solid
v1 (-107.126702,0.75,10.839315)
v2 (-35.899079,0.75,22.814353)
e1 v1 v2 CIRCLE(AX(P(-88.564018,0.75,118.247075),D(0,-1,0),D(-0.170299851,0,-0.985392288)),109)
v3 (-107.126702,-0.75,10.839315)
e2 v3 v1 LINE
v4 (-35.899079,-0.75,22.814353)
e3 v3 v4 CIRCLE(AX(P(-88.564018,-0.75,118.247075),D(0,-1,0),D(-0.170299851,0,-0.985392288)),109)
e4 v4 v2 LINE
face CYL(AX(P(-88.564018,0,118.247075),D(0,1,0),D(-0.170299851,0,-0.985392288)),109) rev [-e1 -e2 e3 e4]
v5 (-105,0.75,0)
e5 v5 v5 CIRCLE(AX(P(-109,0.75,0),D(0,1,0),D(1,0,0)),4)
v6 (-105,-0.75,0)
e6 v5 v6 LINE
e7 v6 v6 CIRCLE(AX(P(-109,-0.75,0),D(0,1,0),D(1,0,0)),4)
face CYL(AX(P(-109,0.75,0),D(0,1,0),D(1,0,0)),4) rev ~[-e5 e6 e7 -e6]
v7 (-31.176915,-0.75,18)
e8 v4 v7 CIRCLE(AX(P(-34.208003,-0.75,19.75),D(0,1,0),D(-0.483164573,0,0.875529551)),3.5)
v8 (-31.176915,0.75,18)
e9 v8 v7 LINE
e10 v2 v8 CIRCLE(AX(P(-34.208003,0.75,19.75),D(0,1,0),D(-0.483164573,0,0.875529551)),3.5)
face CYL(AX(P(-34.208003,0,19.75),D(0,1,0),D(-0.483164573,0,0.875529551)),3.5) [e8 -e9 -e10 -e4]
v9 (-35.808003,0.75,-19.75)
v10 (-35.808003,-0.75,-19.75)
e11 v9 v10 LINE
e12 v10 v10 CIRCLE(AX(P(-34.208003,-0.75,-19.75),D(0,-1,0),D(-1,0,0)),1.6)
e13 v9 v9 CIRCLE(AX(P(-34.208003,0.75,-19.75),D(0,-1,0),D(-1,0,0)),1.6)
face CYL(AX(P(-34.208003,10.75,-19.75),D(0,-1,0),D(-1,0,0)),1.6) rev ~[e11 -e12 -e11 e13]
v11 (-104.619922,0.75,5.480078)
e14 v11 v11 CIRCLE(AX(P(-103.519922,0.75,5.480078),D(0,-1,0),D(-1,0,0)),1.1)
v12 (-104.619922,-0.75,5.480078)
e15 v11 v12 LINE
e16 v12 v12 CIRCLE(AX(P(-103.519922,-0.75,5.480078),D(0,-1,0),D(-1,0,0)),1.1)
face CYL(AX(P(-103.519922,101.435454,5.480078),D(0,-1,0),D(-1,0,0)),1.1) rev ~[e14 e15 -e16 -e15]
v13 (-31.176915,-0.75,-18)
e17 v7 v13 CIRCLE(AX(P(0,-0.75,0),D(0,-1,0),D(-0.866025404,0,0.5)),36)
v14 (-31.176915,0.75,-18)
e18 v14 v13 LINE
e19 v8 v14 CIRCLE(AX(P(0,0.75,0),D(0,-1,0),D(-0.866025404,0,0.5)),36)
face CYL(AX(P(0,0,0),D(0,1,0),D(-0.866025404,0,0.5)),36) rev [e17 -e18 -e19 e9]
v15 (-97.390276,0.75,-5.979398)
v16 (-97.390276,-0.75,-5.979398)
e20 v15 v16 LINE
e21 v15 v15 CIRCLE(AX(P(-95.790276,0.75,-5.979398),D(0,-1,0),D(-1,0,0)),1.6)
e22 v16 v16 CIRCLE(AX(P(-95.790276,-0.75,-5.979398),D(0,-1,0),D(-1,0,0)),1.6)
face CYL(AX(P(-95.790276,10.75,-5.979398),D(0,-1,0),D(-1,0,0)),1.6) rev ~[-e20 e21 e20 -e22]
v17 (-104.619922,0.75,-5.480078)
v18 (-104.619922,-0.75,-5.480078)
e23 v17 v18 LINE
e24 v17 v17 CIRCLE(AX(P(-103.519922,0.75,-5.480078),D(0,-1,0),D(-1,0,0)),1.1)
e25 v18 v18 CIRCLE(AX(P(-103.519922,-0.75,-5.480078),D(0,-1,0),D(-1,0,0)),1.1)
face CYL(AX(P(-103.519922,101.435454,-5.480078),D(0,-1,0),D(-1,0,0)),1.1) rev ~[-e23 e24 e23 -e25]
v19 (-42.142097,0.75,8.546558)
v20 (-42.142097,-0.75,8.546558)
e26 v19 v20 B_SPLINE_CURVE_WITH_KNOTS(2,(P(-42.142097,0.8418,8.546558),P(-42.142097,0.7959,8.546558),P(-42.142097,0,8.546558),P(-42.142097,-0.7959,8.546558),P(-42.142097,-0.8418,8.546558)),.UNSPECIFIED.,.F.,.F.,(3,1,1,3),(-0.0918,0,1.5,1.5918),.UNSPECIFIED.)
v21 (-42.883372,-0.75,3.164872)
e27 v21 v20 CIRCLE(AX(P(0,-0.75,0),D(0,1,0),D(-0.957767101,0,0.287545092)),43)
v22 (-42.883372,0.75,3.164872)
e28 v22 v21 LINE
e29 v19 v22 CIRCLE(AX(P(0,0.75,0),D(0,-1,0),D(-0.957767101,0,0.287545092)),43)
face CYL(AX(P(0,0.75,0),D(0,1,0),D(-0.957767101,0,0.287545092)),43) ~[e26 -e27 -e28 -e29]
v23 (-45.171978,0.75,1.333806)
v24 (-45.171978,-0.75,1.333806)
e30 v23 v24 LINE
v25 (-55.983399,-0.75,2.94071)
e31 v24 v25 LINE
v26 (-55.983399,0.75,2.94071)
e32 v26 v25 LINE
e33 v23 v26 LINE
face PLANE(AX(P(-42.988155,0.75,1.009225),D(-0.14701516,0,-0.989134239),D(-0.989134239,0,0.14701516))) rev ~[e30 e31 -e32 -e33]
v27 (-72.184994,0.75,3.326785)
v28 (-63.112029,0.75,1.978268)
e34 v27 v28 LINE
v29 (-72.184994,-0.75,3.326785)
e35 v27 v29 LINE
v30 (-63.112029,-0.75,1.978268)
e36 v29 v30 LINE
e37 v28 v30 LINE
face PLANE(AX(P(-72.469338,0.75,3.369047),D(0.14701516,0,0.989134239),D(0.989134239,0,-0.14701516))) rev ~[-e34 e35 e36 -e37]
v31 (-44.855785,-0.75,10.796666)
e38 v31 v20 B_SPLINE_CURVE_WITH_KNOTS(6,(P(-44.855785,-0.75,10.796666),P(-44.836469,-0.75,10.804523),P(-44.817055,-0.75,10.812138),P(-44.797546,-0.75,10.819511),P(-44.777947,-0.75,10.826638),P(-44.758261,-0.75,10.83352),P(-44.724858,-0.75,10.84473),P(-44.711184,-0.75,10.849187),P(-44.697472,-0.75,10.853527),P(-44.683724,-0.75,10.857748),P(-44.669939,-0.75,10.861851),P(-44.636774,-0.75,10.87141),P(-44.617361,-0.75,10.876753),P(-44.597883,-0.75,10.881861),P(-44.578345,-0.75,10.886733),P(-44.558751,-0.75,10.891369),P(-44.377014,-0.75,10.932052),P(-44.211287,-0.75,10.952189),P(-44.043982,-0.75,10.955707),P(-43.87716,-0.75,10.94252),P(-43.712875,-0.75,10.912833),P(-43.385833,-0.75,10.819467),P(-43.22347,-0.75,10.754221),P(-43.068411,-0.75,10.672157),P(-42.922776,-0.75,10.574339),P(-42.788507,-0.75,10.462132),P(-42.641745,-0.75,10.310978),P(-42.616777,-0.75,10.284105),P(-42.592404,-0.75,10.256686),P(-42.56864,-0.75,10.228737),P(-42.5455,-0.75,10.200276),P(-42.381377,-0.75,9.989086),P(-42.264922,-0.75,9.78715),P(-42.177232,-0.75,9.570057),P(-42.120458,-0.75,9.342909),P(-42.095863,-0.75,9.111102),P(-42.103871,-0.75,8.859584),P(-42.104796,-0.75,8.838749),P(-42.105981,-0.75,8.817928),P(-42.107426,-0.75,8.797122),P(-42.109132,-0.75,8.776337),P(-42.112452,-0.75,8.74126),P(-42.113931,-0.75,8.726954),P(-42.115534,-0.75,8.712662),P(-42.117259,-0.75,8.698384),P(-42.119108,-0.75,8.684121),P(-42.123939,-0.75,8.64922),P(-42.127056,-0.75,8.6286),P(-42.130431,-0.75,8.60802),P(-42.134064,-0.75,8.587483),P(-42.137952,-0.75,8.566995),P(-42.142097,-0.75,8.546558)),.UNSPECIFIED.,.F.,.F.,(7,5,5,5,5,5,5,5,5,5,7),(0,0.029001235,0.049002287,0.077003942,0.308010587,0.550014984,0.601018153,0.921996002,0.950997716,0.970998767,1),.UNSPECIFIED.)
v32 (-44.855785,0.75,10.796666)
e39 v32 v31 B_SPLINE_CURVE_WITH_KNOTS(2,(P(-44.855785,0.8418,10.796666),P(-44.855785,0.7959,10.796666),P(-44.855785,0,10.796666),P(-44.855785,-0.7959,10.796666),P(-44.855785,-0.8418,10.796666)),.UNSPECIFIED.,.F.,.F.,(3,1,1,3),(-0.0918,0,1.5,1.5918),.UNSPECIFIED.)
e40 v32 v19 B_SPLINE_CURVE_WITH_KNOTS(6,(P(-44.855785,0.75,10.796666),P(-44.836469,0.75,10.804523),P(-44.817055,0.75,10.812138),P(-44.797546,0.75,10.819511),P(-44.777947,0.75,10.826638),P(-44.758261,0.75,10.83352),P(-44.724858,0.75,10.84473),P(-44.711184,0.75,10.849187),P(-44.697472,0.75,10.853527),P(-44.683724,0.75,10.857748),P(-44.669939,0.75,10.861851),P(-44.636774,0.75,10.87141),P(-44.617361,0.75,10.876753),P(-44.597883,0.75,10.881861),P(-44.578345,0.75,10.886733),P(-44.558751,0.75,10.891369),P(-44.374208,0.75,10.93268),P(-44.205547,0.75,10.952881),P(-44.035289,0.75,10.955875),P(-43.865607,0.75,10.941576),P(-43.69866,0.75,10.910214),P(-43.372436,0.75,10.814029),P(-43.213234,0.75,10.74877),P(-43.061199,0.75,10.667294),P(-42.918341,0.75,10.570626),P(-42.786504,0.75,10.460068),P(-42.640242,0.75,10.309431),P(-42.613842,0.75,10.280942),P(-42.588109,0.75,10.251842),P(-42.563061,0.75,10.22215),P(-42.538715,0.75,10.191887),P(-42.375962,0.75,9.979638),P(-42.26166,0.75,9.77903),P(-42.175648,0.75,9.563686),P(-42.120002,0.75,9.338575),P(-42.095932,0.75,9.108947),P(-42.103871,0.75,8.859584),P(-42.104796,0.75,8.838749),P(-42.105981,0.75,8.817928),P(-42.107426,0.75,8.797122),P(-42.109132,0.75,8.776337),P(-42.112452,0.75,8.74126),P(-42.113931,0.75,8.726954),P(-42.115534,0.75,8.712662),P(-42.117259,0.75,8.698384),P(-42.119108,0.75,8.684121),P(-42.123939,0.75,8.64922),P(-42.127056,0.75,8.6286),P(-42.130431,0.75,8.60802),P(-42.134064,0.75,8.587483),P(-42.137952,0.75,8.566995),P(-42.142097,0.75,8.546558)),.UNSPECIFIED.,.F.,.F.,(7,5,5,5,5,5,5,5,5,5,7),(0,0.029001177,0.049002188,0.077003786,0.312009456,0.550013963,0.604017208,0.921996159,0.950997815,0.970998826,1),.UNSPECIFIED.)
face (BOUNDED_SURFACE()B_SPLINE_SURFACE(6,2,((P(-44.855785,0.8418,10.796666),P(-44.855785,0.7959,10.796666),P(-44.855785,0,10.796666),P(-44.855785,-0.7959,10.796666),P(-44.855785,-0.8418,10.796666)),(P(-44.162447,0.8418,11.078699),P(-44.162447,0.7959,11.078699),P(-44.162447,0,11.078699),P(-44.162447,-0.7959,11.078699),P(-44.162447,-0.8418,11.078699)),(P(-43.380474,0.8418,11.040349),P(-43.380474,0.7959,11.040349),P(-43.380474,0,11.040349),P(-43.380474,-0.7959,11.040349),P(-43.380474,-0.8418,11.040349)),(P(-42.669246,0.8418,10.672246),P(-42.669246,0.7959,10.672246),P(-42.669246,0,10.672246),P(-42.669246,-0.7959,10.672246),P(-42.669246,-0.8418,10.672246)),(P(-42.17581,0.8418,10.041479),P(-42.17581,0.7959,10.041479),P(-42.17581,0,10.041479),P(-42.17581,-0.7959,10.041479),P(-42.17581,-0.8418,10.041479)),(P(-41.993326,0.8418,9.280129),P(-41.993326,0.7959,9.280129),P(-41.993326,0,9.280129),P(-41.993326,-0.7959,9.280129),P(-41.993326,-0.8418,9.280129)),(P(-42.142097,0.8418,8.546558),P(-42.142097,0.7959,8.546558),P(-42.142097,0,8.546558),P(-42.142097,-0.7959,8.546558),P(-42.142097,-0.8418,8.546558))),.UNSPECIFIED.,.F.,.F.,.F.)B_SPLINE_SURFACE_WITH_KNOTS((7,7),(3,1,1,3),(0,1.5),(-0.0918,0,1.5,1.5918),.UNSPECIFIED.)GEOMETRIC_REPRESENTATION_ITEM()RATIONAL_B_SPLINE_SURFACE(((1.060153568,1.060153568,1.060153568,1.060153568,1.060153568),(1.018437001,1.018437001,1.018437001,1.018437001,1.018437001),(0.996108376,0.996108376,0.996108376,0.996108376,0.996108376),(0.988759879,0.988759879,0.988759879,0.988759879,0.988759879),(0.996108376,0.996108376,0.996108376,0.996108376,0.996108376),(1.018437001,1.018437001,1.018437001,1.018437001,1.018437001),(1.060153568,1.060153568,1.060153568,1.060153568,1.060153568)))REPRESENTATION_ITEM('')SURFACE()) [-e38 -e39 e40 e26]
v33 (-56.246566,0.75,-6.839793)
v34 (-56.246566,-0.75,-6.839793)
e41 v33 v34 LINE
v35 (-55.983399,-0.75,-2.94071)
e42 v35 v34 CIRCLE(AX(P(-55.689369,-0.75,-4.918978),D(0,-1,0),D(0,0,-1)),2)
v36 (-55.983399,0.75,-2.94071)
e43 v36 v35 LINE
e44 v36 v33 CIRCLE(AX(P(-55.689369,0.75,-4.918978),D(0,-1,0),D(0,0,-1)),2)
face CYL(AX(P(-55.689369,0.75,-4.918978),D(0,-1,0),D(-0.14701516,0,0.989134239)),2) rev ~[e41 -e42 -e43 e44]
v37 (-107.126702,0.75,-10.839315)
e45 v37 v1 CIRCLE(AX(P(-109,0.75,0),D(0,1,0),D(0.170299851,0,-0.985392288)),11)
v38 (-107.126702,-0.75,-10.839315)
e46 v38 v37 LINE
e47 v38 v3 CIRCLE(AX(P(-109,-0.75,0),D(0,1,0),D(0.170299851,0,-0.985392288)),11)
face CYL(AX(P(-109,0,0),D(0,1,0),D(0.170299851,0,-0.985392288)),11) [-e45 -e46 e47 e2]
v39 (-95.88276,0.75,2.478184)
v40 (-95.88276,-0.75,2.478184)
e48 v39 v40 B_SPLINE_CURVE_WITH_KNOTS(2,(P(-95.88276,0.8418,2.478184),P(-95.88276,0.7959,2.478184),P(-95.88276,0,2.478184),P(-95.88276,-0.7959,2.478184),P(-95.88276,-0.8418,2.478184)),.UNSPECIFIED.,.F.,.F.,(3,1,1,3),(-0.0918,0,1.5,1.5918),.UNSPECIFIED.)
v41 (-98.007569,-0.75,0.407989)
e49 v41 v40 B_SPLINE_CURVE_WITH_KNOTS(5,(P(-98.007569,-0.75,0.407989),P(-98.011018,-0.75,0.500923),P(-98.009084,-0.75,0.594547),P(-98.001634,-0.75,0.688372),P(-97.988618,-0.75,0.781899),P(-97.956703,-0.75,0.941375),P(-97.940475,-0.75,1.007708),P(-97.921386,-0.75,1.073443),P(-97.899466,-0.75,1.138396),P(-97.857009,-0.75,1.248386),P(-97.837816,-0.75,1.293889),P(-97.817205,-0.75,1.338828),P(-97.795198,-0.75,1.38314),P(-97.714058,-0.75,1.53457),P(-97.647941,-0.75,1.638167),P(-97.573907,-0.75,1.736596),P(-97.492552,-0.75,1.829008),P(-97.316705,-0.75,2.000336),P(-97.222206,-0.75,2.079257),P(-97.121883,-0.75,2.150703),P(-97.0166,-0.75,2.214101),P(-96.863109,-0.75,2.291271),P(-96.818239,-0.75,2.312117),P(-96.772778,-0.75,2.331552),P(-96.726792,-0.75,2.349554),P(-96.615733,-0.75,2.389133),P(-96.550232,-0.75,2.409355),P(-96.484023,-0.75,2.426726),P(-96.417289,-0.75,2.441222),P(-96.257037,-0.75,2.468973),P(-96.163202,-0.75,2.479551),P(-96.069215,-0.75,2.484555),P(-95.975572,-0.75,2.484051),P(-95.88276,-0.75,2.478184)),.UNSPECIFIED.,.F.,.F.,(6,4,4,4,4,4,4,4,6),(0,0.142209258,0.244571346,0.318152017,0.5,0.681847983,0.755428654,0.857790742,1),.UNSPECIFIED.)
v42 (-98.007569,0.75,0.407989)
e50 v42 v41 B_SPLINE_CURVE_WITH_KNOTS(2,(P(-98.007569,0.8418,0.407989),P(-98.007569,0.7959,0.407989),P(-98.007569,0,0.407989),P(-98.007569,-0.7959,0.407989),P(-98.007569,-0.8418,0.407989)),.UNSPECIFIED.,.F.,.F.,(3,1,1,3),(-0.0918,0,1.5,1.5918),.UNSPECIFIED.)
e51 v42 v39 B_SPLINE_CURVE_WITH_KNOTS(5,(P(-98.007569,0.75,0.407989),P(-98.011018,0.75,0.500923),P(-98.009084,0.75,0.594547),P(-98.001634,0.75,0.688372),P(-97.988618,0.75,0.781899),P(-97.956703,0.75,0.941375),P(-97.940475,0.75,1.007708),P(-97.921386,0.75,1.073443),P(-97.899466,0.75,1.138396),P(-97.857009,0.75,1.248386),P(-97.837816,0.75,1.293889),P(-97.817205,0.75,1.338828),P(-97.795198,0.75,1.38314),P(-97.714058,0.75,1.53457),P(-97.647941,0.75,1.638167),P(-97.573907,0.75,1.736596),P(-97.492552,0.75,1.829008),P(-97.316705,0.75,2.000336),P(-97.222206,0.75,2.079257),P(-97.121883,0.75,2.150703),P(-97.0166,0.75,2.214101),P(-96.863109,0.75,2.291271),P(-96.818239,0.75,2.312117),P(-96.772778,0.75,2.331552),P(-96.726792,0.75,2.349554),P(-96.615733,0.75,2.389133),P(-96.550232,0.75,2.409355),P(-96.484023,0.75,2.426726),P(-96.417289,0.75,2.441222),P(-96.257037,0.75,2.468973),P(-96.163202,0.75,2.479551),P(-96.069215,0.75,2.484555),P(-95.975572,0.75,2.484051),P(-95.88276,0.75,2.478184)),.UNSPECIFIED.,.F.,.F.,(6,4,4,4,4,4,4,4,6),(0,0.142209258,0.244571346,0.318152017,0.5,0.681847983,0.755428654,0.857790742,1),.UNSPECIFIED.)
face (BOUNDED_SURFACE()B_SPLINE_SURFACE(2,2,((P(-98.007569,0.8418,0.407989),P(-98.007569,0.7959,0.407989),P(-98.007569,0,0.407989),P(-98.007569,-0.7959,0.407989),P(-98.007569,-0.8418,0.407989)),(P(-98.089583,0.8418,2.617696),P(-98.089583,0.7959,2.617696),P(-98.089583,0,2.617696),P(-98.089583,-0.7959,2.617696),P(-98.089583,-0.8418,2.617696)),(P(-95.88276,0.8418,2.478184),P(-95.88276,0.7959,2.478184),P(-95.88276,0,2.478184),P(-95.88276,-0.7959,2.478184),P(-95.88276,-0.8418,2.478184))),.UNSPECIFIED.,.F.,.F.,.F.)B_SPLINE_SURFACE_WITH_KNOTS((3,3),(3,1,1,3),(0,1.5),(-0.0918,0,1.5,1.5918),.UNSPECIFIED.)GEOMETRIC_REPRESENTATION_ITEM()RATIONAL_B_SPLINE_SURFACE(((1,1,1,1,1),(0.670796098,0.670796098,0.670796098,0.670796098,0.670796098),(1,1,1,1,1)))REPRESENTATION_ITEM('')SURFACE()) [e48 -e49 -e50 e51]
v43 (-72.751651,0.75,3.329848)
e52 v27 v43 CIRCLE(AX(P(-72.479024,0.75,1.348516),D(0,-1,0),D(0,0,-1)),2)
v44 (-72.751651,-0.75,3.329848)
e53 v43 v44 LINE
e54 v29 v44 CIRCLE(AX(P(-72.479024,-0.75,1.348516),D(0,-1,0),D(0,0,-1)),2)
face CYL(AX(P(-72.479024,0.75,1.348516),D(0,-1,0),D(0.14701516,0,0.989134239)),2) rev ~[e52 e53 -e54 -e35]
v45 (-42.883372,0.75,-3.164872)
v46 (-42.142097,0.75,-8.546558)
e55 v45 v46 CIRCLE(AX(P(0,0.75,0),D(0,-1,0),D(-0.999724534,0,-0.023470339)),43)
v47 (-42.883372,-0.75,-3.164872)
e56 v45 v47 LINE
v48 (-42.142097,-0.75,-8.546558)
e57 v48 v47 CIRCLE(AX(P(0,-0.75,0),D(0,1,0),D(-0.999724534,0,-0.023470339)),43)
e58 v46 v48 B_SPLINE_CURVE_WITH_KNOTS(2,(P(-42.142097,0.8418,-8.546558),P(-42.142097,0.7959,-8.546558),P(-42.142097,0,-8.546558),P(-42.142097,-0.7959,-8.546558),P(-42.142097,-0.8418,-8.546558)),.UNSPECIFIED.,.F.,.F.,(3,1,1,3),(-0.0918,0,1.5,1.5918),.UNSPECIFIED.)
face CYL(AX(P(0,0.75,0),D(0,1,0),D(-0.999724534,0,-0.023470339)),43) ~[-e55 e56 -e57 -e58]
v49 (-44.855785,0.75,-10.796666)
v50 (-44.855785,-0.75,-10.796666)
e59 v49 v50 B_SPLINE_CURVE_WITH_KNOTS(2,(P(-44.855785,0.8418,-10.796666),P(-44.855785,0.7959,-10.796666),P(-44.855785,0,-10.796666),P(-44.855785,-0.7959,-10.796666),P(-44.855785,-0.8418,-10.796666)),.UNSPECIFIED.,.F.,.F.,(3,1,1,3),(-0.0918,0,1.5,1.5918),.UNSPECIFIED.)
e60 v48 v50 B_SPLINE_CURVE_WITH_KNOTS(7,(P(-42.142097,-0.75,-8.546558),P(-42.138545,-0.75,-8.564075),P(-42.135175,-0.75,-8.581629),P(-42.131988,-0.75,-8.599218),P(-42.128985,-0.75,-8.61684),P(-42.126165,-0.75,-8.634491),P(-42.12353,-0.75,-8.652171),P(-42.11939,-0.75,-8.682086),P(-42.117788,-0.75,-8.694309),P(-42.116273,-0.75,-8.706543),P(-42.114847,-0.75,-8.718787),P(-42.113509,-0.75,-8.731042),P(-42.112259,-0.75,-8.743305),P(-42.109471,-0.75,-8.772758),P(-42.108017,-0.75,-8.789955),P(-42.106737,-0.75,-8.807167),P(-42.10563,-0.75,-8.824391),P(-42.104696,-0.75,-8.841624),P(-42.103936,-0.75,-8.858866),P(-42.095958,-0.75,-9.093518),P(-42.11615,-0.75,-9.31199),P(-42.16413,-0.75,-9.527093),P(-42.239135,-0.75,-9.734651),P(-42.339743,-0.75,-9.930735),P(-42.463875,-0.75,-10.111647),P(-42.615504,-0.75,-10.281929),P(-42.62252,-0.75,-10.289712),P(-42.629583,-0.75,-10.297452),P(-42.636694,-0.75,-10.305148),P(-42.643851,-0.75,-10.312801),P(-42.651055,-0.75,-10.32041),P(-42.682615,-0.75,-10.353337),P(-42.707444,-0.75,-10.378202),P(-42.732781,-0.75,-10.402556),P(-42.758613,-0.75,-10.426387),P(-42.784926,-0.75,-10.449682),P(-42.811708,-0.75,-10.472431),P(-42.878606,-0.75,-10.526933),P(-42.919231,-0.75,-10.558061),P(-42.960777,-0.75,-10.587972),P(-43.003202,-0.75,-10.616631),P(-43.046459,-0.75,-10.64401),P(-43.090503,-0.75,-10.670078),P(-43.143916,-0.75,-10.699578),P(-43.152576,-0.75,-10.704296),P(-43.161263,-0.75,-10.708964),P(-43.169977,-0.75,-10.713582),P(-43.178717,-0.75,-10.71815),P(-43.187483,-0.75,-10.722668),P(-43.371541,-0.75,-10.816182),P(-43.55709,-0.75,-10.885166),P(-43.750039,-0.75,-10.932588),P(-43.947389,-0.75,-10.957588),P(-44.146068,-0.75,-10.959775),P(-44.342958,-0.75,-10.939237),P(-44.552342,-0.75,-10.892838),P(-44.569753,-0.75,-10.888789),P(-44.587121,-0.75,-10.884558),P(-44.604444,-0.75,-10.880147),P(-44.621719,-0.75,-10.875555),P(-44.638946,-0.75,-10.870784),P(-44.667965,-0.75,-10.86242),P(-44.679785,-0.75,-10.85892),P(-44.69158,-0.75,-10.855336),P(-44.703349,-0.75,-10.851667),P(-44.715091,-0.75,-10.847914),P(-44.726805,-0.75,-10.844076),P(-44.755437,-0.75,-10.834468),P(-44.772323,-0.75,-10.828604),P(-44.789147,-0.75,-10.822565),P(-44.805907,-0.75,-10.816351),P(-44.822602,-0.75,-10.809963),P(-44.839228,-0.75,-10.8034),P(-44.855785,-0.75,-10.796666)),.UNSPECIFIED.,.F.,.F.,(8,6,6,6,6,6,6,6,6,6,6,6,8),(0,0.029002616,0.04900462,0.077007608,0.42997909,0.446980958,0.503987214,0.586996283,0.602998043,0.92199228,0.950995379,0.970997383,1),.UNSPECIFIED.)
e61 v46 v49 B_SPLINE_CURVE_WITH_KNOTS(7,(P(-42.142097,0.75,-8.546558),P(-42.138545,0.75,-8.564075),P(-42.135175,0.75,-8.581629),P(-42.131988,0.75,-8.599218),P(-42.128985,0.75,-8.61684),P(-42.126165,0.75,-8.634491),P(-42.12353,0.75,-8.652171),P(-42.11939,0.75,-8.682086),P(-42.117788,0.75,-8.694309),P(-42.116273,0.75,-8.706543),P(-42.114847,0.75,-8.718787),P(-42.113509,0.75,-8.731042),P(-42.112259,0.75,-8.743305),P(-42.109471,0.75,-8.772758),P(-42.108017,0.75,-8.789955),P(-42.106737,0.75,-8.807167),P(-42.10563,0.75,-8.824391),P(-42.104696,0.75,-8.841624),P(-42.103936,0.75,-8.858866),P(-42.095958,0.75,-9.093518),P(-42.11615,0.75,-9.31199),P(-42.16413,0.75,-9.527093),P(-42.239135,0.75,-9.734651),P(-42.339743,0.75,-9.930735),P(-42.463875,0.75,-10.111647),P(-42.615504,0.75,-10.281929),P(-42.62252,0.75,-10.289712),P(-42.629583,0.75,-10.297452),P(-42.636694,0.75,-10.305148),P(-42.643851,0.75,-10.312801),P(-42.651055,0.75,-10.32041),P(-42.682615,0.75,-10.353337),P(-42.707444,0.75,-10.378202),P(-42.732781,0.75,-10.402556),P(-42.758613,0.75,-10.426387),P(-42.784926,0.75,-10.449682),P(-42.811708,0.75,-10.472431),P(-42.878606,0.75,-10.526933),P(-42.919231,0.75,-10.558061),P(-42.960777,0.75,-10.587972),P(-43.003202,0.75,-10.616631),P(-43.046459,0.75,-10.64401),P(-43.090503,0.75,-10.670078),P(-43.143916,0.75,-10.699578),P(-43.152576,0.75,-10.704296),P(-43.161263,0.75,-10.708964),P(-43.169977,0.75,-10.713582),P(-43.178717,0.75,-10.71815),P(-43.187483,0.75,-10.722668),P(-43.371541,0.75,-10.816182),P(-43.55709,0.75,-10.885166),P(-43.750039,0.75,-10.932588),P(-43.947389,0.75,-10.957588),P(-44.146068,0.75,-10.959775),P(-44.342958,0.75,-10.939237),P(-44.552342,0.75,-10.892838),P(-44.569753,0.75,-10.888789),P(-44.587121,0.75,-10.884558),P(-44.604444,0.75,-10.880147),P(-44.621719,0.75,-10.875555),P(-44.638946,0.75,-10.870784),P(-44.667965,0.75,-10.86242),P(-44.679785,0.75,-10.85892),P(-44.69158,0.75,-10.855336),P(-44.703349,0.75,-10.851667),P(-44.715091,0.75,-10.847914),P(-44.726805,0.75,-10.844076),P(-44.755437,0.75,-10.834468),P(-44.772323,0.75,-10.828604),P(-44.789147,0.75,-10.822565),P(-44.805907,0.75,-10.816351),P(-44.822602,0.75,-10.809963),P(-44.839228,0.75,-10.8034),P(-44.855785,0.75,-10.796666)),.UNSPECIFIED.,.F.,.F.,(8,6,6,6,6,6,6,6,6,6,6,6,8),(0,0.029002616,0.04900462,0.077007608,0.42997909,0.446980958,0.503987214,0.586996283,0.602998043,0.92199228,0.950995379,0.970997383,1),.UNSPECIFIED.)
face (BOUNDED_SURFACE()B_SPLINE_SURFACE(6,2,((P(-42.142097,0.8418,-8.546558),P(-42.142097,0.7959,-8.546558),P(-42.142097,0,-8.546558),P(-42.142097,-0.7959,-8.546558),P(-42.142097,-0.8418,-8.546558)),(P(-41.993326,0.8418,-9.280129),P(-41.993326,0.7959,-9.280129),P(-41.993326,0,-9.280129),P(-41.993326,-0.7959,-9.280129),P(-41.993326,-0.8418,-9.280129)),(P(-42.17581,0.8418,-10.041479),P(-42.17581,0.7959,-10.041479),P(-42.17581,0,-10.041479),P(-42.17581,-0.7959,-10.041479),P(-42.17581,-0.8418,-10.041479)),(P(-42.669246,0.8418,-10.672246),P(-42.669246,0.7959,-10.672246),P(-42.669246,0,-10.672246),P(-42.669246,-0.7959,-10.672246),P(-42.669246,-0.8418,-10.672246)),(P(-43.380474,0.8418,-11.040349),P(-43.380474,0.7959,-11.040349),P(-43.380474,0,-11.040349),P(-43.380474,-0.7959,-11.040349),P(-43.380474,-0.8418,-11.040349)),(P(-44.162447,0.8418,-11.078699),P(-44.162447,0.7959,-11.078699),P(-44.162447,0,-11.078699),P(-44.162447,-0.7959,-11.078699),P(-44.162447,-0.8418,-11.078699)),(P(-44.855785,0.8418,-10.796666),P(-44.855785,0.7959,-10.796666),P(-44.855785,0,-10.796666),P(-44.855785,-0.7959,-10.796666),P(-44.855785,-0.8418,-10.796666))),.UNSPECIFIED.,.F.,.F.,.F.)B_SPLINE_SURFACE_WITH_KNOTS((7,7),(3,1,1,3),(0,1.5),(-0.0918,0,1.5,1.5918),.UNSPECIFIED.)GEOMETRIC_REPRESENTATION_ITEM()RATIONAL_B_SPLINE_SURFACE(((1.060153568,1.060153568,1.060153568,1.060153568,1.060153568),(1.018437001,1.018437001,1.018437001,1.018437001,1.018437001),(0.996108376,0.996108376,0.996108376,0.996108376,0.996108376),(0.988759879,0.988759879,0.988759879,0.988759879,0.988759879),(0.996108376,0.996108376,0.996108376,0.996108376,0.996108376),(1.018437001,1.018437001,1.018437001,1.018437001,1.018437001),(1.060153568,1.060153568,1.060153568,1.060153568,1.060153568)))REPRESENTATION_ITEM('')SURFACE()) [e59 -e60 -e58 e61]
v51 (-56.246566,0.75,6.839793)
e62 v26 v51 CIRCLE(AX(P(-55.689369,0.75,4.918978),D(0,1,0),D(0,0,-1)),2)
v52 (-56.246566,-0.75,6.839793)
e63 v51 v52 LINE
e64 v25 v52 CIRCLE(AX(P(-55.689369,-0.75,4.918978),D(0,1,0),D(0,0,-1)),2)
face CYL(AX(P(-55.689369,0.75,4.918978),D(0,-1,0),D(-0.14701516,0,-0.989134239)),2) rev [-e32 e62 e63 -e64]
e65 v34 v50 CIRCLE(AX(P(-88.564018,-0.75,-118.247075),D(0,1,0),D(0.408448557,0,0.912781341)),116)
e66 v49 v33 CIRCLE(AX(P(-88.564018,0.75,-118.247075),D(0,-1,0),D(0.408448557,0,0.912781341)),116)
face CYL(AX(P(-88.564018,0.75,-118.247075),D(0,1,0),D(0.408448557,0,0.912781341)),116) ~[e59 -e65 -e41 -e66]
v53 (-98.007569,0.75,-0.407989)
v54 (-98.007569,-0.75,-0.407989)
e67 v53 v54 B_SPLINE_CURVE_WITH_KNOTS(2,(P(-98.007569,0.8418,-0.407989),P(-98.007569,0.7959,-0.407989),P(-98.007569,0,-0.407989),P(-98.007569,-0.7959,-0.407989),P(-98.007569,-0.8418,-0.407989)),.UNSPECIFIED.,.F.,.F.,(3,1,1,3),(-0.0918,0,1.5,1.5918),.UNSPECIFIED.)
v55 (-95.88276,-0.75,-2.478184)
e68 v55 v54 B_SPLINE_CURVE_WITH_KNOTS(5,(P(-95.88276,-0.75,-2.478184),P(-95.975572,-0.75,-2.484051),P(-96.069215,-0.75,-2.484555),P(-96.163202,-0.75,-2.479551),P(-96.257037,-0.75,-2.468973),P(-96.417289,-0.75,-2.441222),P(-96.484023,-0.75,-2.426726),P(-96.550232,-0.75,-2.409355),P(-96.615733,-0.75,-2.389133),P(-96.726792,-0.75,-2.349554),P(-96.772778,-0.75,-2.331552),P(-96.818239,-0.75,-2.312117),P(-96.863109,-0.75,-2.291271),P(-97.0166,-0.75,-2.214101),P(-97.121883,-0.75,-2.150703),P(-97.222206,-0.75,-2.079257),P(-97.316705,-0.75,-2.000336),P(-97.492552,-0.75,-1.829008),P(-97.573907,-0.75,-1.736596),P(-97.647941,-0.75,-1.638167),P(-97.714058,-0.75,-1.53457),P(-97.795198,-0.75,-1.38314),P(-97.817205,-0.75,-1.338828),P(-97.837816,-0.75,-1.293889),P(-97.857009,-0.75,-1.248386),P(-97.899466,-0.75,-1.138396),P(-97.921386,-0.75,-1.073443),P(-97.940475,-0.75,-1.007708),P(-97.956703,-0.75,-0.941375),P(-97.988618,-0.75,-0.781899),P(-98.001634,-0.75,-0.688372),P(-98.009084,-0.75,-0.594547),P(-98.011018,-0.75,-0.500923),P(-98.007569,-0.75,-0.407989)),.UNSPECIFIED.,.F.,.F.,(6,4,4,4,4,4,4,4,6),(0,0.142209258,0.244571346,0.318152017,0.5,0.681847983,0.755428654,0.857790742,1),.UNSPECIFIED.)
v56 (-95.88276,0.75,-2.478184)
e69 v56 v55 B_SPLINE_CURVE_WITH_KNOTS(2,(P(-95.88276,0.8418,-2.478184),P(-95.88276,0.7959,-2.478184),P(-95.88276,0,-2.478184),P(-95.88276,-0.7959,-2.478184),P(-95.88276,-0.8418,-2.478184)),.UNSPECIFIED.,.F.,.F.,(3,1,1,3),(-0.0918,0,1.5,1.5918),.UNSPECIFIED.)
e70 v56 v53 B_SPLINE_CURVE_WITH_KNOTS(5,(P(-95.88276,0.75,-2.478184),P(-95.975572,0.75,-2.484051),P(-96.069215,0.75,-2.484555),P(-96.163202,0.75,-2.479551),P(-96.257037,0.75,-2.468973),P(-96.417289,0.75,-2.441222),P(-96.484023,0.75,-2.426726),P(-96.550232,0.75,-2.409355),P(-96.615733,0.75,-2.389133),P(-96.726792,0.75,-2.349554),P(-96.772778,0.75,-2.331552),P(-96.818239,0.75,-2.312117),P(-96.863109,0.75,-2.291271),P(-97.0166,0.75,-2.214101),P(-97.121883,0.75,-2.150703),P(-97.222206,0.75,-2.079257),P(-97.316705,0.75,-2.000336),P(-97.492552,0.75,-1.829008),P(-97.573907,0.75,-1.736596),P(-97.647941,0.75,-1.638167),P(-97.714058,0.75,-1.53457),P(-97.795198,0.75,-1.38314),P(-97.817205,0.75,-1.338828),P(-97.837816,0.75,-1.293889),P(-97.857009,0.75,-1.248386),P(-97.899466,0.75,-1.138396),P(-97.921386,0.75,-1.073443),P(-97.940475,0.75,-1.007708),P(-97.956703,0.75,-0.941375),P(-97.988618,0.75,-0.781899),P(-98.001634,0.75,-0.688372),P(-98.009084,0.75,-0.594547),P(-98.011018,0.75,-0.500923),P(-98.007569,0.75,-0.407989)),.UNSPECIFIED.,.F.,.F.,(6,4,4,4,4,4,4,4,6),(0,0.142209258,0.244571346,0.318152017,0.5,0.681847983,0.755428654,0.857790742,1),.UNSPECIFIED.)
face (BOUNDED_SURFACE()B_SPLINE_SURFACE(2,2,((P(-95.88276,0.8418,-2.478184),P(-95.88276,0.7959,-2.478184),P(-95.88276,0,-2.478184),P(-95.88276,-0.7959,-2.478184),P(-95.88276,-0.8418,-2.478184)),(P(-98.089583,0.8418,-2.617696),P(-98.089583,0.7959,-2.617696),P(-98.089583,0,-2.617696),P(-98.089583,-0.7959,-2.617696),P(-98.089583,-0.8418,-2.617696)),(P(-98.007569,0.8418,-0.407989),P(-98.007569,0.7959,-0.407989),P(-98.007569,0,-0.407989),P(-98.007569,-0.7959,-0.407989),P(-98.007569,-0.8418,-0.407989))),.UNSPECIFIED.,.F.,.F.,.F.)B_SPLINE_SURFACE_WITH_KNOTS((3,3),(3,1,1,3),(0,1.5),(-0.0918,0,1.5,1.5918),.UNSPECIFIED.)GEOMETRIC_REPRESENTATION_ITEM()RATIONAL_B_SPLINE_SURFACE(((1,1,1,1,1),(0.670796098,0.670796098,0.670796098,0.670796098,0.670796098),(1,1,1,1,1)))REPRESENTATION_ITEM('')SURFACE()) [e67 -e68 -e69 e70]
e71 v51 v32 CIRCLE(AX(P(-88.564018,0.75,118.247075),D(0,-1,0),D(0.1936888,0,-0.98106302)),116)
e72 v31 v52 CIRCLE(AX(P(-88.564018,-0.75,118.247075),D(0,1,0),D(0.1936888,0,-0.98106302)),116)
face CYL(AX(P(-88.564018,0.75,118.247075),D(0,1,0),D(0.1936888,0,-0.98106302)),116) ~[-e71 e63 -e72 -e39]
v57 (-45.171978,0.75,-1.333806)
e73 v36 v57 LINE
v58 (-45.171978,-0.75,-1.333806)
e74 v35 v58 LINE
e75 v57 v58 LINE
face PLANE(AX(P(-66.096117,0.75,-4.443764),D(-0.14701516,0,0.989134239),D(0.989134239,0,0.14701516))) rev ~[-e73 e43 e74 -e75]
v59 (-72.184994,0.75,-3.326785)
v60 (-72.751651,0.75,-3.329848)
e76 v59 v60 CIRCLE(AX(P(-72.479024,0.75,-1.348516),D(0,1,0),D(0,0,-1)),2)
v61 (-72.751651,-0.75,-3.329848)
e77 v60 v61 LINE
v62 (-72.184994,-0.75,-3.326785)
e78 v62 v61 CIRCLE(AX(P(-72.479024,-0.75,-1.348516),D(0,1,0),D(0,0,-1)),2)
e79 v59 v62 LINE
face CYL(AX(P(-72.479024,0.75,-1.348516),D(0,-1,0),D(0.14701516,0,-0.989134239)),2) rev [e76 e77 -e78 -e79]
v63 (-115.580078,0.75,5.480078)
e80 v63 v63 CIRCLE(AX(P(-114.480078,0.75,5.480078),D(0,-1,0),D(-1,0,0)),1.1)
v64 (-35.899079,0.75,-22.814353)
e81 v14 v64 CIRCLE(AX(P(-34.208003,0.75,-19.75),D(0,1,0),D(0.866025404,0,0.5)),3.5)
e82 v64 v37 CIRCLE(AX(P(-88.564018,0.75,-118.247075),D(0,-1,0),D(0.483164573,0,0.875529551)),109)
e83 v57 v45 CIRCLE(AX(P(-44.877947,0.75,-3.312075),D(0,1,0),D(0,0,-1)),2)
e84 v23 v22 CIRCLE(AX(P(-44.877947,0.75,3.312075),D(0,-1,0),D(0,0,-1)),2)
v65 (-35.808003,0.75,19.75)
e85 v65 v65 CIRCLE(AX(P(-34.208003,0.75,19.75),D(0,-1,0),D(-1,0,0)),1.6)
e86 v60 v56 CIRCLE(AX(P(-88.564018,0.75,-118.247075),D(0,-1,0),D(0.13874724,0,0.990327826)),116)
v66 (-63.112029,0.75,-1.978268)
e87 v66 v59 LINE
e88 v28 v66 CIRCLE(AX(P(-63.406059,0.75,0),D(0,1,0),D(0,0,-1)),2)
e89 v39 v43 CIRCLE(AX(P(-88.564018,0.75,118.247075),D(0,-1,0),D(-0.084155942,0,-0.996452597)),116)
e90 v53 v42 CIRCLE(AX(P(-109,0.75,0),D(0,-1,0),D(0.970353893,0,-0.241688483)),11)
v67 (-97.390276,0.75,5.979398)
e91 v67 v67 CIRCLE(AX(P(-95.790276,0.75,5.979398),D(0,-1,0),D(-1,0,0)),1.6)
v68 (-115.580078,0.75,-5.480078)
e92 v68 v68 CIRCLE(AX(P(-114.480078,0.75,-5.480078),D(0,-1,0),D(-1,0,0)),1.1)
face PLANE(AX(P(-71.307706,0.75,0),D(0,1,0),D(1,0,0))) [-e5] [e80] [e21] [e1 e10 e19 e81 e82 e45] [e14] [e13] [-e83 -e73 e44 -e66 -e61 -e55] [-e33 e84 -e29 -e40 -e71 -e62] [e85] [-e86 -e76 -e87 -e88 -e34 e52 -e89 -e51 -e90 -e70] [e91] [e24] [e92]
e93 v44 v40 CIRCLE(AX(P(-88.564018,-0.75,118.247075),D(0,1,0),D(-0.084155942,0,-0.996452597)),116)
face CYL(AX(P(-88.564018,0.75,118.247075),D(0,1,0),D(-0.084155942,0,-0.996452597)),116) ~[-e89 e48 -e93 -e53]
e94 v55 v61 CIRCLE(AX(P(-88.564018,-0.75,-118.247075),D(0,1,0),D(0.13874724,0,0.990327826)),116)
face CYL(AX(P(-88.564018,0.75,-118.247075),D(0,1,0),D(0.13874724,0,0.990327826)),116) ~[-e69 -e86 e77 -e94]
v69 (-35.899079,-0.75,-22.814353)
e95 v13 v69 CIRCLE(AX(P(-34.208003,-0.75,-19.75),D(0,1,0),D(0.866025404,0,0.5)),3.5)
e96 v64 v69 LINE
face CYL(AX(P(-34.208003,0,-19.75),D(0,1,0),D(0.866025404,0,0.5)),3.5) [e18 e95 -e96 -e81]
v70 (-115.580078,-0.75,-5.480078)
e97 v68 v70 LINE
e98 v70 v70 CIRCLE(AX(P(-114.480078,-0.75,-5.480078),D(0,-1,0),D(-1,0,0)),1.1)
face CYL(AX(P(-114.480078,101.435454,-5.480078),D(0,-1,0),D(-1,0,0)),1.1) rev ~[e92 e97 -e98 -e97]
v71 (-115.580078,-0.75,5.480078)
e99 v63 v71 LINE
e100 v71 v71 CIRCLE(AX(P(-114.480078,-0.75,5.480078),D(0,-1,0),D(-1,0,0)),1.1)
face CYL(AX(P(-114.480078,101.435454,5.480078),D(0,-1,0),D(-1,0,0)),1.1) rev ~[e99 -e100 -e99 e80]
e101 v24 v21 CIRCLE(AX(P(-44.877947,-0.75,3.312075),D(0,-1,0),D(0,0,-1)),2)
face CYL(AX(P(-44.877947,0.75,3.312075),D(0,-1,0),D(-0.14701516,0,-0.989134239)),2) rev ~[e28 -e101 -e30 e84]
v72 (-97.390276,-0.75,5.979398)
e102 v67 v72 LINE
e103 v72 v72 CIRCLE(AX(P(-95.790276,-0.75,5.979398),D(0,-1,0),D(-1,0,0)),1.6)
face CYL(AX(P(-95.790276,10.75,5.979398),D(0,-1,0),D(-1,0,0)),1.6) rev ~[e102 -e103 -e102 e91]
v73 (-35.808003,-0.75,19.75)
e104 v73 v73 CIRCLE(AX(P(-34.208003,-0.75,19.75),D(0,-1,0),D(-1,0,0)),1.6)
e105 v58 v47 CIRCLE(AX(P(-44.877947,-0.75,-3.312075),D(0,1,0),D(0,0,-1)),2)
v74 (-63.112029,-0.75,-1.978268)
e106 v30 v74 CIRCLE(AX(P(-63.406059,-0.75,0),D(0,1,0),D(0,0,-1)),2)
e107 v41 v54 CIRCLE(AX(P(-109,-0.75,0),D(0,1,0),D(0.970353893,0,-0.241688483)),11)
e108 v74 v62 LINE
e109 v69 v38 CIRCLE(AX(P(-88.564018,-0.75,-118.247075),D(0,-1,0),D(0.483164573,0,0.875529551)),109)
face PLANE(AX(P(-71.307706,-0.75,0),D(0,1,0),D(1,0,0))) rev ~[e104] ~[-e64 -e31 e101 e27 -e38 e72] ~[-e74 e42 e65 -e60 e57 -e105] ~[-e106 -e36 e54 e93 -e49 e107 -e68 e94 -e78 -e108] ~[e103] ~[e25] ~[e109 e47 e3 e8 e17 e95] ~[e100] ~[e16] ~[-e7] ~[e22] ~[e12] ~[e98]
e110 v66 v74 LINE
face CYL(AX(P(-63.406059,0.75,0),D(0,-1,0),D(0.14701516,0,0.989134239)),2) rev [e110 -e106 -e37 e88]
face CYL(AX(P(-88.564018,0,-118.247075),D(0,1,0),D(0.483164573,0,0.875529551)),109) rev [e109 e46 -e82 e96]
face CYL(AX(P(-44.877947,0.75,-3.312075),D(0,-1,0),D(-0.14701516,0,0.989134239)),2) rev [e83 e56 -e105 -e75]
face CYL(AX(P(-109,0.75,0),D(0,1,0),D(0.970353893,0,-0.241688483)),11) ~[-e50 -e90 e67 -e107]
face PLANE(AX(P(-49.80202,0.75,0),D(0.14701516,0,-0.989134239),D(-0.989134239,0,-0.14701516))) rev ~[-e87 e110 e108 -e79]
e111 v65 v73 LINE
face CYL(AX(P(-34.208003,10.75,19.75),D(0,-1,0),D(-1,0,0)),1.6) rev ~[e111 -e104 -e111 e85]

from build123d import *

# Parameters (mm, degrees)
SKETCH1_R                      = 3.5
BOSS_EXTRUDE1_DEPTH            = 0.75
F_2_2_2_2_DIAMETER_HOLE1_D     = 2.2
F_3_2_3_2_DIAMETER_HOLE1_D     = 3.2
F_3_2_3_2_DIAMETER_HOLE1_DEPTH = 10
F_3_2_3_2_DIAMETER_HOLE1_TIP   = 0.96137699
CUT_EXTRUDE1_DEPTH             = 2.5
FILLET1_R                      = 2
SKETCH7_R                      = 4
CUT_EXTRUDE2_DEPTH             = 2.5000001


with BuildPart() as part:
    # Sketch1 → Boss-Extrude1 (new body, symmetric)
    with BuildSketch(Plane(origin=(0, 0, 0), x_dir=(1, 0, 0), z_dir=(0, 1, 0))):
        with BuildLine():
            ThreePointArc((-37.239092363, -21.5), (-43, 0), (-37.239092363, 21.5))
            ThreePointArc((-37.239092363, 21.5), (-36.658838331, 22.248681329), (-35.899079455, 22.81435343))
            ThreePointArc((-35.899079455, 22.81435343), (-70.492179883, 10.7556392), (-107.126701642, 10.839315166))
            ThreePointArc((-107.126701642, 10.839315166), (-120, 0), (-107.126701642, -10.839315166))
            ThreePointArc((-107.126701642, -10.839315166), (-70.492179883, -10.7556392), (-35.899079455, -22.81435343))
            ThreePointArc((-35.899079455, -22.81435343), (-36.658838331, -22.248681329), (-37.239092363, -21.5))
        make_face()
        with BuildLine():
            ThreePointArc((-31.176914536, 18), (-35.958003449, 16.718911087), (-37.239092363, 21.5))
            ThreePointArc((-37.239092363, 21.5), (-43, 0), (-37.239092363, -21.5))
            ThreePointArc((-37.239092363, -21.5), (-35.958003449, -16.718911087), (-31.176914536, -18))
            ThreePointArc((-31.176914536, -18), (-36, 0), (-31.176914536, 18))
        make_face()
        with Locations((-34.208003449, -19.75)):
            Circle(SKETCH1_R)
        with Locations((-34.208003449, 19.75)):
            Circle(SKETCH1_R)
    extrude(amount=BOSS_EXTRUDE1_DEPTH, both=True)

    # Ø2.2 (2.2) Diameter Hole1 (through all)
    with Locations(Plane(origin=(0, 0.75, 0), x_dir=(1, 0, 0), z_dir=(0, 1, 0))):
        with Locations((-114.480077554, 5.480077554), (-103.519922446, 5.480077554), (-103.519922446, -5.480077554), (-114.480077554, -5.480077554)):
            Hole(F_2_2_2_2_DIAMETER_HOLE1_D / 2)

    # Ø3.2 (3.2) Diameter Hole1
    with Locations(Plane(origin=(0, 0.75, 0), x_dir=(1, 0, 0), z_dir=(0, 1, 0))):
        with Locations((-34.208003449, 19.75), (-34.208003449, -19.75), (-95.790276336, 5.979398024), (-95.790276336, -5.979398024)):
            Hole(F_3_2_3_2_DIAMETER_HOLE1_D / 2, depth=F_3_2_3_2_DIAMETER_HOLE1_DEPTH)
            with Locations((0, 0, -(F_3_2_3_2_DIAMETER_HOLE1_DEPTH + F_3_2_3_2_DIAMETER_HOLE1_TIP / 2))):  # 118° drill point
                Cone(0, F_3_2_3_2_DIAMETER_HOLE1_D / 2, F_3_2_3_2_DIAMETER_HOLE1_TIP, mode=Mode.SUBTRACT)

    # Sketch6 → Cut-Extrude1 (cut, through all)
    with BuildSketch(Plane(origin=(0, 0.75, 0), x_dir=(1, 0, 0), z_dir=(0, 1, 0))):
        with BuildLine():
            Line((-72.469338063, -3.369046694), (-49.802019621, 0))
            Line((-49.802019621, 0), (-72.469338063, 3.369046694))
            ThreePointArc((-72.469338063, 3.369046694), (-85.377857375, 2.290839769), (-98.326107181, 2.65857332))
            ThreePointArc((-98.326107181, 2.65857332), (-98, 0), (-98.326107181, -2.65857332))
            ThreePointArc((-98.326107181, -2.65857332), (-85.377857375, -2.290839769), (-72.469338063, -3.369046694))
        make_face()
        with BuildLine():
            Line((-66.096117167, 4.443764231), (-42.988154947, 1.009224591))
            ThreePointArc((-42.988154947, 1.009224591), (-42.467311238, 6.747405149), (-41.183985346, 12.36443897))
            ThreePointArc((-41.183985346, 12.36443897), (-53.416219701, 7.70010587), (-66.096117167, 4.443764231))
        make_face()
        with BuildLine():
            ThreePointArc((-41.183985346, -12.36443897), (-42.467311238, -6.747405149), (-42.988154947, -1.009224591))
            Line((-42.988154947, -1.009224591), (-66.096117167, -4.443764231))
            ThreePointArc((-66.096117167, -4.443764231), (-53.416219701, -7.70010587), (-41.183985346, -12.36443897))
        make_face()
    extrude(amount=-CUT_EXTRUDE1_DEPTH, mode=Mode.SUBTRACT)

    # Fillet1
    fillet1_edges = [part.edges().sort_by_distance(p)[0] for p in [
        (-42.988154947, 0, 1.009224591),
        (-41.183985346, 0, 12.36443897),
        (-66.096117167, 0, 4.443764231),
        (-98.326107181, 0, 2.65857332),
        (-98.326107181, 0, -2.65857332),
        (-72.469338063, 0, -3.369046694),
        (-49.802019621, 0, 0),
        (-72.469338063, 0, 3.369046694),
        (-41.183985346, 0, -12.36443897),
        (-42.988154947, 0, -1.009224591),
        (-66.096117167, 0, -4.443764231),
    ]]
    fillet(fillet1_edges, radius=FILLET1_R)

    # Sketch7 → Cut-Extrude2 (cut, through all)
    with BuildSketch(Plane(origin=(0, 0.75, 0), x_dir=(1, 0, 0), z_dir=(0, 1, 0))):
        with Locations((-109, 0)):
            Circle(SKETCH7_R)
    extrude(amount=-CUT_EXTRUDE2_DEPTH, mode=Mode.SUBTRACT)


solid = part.part
